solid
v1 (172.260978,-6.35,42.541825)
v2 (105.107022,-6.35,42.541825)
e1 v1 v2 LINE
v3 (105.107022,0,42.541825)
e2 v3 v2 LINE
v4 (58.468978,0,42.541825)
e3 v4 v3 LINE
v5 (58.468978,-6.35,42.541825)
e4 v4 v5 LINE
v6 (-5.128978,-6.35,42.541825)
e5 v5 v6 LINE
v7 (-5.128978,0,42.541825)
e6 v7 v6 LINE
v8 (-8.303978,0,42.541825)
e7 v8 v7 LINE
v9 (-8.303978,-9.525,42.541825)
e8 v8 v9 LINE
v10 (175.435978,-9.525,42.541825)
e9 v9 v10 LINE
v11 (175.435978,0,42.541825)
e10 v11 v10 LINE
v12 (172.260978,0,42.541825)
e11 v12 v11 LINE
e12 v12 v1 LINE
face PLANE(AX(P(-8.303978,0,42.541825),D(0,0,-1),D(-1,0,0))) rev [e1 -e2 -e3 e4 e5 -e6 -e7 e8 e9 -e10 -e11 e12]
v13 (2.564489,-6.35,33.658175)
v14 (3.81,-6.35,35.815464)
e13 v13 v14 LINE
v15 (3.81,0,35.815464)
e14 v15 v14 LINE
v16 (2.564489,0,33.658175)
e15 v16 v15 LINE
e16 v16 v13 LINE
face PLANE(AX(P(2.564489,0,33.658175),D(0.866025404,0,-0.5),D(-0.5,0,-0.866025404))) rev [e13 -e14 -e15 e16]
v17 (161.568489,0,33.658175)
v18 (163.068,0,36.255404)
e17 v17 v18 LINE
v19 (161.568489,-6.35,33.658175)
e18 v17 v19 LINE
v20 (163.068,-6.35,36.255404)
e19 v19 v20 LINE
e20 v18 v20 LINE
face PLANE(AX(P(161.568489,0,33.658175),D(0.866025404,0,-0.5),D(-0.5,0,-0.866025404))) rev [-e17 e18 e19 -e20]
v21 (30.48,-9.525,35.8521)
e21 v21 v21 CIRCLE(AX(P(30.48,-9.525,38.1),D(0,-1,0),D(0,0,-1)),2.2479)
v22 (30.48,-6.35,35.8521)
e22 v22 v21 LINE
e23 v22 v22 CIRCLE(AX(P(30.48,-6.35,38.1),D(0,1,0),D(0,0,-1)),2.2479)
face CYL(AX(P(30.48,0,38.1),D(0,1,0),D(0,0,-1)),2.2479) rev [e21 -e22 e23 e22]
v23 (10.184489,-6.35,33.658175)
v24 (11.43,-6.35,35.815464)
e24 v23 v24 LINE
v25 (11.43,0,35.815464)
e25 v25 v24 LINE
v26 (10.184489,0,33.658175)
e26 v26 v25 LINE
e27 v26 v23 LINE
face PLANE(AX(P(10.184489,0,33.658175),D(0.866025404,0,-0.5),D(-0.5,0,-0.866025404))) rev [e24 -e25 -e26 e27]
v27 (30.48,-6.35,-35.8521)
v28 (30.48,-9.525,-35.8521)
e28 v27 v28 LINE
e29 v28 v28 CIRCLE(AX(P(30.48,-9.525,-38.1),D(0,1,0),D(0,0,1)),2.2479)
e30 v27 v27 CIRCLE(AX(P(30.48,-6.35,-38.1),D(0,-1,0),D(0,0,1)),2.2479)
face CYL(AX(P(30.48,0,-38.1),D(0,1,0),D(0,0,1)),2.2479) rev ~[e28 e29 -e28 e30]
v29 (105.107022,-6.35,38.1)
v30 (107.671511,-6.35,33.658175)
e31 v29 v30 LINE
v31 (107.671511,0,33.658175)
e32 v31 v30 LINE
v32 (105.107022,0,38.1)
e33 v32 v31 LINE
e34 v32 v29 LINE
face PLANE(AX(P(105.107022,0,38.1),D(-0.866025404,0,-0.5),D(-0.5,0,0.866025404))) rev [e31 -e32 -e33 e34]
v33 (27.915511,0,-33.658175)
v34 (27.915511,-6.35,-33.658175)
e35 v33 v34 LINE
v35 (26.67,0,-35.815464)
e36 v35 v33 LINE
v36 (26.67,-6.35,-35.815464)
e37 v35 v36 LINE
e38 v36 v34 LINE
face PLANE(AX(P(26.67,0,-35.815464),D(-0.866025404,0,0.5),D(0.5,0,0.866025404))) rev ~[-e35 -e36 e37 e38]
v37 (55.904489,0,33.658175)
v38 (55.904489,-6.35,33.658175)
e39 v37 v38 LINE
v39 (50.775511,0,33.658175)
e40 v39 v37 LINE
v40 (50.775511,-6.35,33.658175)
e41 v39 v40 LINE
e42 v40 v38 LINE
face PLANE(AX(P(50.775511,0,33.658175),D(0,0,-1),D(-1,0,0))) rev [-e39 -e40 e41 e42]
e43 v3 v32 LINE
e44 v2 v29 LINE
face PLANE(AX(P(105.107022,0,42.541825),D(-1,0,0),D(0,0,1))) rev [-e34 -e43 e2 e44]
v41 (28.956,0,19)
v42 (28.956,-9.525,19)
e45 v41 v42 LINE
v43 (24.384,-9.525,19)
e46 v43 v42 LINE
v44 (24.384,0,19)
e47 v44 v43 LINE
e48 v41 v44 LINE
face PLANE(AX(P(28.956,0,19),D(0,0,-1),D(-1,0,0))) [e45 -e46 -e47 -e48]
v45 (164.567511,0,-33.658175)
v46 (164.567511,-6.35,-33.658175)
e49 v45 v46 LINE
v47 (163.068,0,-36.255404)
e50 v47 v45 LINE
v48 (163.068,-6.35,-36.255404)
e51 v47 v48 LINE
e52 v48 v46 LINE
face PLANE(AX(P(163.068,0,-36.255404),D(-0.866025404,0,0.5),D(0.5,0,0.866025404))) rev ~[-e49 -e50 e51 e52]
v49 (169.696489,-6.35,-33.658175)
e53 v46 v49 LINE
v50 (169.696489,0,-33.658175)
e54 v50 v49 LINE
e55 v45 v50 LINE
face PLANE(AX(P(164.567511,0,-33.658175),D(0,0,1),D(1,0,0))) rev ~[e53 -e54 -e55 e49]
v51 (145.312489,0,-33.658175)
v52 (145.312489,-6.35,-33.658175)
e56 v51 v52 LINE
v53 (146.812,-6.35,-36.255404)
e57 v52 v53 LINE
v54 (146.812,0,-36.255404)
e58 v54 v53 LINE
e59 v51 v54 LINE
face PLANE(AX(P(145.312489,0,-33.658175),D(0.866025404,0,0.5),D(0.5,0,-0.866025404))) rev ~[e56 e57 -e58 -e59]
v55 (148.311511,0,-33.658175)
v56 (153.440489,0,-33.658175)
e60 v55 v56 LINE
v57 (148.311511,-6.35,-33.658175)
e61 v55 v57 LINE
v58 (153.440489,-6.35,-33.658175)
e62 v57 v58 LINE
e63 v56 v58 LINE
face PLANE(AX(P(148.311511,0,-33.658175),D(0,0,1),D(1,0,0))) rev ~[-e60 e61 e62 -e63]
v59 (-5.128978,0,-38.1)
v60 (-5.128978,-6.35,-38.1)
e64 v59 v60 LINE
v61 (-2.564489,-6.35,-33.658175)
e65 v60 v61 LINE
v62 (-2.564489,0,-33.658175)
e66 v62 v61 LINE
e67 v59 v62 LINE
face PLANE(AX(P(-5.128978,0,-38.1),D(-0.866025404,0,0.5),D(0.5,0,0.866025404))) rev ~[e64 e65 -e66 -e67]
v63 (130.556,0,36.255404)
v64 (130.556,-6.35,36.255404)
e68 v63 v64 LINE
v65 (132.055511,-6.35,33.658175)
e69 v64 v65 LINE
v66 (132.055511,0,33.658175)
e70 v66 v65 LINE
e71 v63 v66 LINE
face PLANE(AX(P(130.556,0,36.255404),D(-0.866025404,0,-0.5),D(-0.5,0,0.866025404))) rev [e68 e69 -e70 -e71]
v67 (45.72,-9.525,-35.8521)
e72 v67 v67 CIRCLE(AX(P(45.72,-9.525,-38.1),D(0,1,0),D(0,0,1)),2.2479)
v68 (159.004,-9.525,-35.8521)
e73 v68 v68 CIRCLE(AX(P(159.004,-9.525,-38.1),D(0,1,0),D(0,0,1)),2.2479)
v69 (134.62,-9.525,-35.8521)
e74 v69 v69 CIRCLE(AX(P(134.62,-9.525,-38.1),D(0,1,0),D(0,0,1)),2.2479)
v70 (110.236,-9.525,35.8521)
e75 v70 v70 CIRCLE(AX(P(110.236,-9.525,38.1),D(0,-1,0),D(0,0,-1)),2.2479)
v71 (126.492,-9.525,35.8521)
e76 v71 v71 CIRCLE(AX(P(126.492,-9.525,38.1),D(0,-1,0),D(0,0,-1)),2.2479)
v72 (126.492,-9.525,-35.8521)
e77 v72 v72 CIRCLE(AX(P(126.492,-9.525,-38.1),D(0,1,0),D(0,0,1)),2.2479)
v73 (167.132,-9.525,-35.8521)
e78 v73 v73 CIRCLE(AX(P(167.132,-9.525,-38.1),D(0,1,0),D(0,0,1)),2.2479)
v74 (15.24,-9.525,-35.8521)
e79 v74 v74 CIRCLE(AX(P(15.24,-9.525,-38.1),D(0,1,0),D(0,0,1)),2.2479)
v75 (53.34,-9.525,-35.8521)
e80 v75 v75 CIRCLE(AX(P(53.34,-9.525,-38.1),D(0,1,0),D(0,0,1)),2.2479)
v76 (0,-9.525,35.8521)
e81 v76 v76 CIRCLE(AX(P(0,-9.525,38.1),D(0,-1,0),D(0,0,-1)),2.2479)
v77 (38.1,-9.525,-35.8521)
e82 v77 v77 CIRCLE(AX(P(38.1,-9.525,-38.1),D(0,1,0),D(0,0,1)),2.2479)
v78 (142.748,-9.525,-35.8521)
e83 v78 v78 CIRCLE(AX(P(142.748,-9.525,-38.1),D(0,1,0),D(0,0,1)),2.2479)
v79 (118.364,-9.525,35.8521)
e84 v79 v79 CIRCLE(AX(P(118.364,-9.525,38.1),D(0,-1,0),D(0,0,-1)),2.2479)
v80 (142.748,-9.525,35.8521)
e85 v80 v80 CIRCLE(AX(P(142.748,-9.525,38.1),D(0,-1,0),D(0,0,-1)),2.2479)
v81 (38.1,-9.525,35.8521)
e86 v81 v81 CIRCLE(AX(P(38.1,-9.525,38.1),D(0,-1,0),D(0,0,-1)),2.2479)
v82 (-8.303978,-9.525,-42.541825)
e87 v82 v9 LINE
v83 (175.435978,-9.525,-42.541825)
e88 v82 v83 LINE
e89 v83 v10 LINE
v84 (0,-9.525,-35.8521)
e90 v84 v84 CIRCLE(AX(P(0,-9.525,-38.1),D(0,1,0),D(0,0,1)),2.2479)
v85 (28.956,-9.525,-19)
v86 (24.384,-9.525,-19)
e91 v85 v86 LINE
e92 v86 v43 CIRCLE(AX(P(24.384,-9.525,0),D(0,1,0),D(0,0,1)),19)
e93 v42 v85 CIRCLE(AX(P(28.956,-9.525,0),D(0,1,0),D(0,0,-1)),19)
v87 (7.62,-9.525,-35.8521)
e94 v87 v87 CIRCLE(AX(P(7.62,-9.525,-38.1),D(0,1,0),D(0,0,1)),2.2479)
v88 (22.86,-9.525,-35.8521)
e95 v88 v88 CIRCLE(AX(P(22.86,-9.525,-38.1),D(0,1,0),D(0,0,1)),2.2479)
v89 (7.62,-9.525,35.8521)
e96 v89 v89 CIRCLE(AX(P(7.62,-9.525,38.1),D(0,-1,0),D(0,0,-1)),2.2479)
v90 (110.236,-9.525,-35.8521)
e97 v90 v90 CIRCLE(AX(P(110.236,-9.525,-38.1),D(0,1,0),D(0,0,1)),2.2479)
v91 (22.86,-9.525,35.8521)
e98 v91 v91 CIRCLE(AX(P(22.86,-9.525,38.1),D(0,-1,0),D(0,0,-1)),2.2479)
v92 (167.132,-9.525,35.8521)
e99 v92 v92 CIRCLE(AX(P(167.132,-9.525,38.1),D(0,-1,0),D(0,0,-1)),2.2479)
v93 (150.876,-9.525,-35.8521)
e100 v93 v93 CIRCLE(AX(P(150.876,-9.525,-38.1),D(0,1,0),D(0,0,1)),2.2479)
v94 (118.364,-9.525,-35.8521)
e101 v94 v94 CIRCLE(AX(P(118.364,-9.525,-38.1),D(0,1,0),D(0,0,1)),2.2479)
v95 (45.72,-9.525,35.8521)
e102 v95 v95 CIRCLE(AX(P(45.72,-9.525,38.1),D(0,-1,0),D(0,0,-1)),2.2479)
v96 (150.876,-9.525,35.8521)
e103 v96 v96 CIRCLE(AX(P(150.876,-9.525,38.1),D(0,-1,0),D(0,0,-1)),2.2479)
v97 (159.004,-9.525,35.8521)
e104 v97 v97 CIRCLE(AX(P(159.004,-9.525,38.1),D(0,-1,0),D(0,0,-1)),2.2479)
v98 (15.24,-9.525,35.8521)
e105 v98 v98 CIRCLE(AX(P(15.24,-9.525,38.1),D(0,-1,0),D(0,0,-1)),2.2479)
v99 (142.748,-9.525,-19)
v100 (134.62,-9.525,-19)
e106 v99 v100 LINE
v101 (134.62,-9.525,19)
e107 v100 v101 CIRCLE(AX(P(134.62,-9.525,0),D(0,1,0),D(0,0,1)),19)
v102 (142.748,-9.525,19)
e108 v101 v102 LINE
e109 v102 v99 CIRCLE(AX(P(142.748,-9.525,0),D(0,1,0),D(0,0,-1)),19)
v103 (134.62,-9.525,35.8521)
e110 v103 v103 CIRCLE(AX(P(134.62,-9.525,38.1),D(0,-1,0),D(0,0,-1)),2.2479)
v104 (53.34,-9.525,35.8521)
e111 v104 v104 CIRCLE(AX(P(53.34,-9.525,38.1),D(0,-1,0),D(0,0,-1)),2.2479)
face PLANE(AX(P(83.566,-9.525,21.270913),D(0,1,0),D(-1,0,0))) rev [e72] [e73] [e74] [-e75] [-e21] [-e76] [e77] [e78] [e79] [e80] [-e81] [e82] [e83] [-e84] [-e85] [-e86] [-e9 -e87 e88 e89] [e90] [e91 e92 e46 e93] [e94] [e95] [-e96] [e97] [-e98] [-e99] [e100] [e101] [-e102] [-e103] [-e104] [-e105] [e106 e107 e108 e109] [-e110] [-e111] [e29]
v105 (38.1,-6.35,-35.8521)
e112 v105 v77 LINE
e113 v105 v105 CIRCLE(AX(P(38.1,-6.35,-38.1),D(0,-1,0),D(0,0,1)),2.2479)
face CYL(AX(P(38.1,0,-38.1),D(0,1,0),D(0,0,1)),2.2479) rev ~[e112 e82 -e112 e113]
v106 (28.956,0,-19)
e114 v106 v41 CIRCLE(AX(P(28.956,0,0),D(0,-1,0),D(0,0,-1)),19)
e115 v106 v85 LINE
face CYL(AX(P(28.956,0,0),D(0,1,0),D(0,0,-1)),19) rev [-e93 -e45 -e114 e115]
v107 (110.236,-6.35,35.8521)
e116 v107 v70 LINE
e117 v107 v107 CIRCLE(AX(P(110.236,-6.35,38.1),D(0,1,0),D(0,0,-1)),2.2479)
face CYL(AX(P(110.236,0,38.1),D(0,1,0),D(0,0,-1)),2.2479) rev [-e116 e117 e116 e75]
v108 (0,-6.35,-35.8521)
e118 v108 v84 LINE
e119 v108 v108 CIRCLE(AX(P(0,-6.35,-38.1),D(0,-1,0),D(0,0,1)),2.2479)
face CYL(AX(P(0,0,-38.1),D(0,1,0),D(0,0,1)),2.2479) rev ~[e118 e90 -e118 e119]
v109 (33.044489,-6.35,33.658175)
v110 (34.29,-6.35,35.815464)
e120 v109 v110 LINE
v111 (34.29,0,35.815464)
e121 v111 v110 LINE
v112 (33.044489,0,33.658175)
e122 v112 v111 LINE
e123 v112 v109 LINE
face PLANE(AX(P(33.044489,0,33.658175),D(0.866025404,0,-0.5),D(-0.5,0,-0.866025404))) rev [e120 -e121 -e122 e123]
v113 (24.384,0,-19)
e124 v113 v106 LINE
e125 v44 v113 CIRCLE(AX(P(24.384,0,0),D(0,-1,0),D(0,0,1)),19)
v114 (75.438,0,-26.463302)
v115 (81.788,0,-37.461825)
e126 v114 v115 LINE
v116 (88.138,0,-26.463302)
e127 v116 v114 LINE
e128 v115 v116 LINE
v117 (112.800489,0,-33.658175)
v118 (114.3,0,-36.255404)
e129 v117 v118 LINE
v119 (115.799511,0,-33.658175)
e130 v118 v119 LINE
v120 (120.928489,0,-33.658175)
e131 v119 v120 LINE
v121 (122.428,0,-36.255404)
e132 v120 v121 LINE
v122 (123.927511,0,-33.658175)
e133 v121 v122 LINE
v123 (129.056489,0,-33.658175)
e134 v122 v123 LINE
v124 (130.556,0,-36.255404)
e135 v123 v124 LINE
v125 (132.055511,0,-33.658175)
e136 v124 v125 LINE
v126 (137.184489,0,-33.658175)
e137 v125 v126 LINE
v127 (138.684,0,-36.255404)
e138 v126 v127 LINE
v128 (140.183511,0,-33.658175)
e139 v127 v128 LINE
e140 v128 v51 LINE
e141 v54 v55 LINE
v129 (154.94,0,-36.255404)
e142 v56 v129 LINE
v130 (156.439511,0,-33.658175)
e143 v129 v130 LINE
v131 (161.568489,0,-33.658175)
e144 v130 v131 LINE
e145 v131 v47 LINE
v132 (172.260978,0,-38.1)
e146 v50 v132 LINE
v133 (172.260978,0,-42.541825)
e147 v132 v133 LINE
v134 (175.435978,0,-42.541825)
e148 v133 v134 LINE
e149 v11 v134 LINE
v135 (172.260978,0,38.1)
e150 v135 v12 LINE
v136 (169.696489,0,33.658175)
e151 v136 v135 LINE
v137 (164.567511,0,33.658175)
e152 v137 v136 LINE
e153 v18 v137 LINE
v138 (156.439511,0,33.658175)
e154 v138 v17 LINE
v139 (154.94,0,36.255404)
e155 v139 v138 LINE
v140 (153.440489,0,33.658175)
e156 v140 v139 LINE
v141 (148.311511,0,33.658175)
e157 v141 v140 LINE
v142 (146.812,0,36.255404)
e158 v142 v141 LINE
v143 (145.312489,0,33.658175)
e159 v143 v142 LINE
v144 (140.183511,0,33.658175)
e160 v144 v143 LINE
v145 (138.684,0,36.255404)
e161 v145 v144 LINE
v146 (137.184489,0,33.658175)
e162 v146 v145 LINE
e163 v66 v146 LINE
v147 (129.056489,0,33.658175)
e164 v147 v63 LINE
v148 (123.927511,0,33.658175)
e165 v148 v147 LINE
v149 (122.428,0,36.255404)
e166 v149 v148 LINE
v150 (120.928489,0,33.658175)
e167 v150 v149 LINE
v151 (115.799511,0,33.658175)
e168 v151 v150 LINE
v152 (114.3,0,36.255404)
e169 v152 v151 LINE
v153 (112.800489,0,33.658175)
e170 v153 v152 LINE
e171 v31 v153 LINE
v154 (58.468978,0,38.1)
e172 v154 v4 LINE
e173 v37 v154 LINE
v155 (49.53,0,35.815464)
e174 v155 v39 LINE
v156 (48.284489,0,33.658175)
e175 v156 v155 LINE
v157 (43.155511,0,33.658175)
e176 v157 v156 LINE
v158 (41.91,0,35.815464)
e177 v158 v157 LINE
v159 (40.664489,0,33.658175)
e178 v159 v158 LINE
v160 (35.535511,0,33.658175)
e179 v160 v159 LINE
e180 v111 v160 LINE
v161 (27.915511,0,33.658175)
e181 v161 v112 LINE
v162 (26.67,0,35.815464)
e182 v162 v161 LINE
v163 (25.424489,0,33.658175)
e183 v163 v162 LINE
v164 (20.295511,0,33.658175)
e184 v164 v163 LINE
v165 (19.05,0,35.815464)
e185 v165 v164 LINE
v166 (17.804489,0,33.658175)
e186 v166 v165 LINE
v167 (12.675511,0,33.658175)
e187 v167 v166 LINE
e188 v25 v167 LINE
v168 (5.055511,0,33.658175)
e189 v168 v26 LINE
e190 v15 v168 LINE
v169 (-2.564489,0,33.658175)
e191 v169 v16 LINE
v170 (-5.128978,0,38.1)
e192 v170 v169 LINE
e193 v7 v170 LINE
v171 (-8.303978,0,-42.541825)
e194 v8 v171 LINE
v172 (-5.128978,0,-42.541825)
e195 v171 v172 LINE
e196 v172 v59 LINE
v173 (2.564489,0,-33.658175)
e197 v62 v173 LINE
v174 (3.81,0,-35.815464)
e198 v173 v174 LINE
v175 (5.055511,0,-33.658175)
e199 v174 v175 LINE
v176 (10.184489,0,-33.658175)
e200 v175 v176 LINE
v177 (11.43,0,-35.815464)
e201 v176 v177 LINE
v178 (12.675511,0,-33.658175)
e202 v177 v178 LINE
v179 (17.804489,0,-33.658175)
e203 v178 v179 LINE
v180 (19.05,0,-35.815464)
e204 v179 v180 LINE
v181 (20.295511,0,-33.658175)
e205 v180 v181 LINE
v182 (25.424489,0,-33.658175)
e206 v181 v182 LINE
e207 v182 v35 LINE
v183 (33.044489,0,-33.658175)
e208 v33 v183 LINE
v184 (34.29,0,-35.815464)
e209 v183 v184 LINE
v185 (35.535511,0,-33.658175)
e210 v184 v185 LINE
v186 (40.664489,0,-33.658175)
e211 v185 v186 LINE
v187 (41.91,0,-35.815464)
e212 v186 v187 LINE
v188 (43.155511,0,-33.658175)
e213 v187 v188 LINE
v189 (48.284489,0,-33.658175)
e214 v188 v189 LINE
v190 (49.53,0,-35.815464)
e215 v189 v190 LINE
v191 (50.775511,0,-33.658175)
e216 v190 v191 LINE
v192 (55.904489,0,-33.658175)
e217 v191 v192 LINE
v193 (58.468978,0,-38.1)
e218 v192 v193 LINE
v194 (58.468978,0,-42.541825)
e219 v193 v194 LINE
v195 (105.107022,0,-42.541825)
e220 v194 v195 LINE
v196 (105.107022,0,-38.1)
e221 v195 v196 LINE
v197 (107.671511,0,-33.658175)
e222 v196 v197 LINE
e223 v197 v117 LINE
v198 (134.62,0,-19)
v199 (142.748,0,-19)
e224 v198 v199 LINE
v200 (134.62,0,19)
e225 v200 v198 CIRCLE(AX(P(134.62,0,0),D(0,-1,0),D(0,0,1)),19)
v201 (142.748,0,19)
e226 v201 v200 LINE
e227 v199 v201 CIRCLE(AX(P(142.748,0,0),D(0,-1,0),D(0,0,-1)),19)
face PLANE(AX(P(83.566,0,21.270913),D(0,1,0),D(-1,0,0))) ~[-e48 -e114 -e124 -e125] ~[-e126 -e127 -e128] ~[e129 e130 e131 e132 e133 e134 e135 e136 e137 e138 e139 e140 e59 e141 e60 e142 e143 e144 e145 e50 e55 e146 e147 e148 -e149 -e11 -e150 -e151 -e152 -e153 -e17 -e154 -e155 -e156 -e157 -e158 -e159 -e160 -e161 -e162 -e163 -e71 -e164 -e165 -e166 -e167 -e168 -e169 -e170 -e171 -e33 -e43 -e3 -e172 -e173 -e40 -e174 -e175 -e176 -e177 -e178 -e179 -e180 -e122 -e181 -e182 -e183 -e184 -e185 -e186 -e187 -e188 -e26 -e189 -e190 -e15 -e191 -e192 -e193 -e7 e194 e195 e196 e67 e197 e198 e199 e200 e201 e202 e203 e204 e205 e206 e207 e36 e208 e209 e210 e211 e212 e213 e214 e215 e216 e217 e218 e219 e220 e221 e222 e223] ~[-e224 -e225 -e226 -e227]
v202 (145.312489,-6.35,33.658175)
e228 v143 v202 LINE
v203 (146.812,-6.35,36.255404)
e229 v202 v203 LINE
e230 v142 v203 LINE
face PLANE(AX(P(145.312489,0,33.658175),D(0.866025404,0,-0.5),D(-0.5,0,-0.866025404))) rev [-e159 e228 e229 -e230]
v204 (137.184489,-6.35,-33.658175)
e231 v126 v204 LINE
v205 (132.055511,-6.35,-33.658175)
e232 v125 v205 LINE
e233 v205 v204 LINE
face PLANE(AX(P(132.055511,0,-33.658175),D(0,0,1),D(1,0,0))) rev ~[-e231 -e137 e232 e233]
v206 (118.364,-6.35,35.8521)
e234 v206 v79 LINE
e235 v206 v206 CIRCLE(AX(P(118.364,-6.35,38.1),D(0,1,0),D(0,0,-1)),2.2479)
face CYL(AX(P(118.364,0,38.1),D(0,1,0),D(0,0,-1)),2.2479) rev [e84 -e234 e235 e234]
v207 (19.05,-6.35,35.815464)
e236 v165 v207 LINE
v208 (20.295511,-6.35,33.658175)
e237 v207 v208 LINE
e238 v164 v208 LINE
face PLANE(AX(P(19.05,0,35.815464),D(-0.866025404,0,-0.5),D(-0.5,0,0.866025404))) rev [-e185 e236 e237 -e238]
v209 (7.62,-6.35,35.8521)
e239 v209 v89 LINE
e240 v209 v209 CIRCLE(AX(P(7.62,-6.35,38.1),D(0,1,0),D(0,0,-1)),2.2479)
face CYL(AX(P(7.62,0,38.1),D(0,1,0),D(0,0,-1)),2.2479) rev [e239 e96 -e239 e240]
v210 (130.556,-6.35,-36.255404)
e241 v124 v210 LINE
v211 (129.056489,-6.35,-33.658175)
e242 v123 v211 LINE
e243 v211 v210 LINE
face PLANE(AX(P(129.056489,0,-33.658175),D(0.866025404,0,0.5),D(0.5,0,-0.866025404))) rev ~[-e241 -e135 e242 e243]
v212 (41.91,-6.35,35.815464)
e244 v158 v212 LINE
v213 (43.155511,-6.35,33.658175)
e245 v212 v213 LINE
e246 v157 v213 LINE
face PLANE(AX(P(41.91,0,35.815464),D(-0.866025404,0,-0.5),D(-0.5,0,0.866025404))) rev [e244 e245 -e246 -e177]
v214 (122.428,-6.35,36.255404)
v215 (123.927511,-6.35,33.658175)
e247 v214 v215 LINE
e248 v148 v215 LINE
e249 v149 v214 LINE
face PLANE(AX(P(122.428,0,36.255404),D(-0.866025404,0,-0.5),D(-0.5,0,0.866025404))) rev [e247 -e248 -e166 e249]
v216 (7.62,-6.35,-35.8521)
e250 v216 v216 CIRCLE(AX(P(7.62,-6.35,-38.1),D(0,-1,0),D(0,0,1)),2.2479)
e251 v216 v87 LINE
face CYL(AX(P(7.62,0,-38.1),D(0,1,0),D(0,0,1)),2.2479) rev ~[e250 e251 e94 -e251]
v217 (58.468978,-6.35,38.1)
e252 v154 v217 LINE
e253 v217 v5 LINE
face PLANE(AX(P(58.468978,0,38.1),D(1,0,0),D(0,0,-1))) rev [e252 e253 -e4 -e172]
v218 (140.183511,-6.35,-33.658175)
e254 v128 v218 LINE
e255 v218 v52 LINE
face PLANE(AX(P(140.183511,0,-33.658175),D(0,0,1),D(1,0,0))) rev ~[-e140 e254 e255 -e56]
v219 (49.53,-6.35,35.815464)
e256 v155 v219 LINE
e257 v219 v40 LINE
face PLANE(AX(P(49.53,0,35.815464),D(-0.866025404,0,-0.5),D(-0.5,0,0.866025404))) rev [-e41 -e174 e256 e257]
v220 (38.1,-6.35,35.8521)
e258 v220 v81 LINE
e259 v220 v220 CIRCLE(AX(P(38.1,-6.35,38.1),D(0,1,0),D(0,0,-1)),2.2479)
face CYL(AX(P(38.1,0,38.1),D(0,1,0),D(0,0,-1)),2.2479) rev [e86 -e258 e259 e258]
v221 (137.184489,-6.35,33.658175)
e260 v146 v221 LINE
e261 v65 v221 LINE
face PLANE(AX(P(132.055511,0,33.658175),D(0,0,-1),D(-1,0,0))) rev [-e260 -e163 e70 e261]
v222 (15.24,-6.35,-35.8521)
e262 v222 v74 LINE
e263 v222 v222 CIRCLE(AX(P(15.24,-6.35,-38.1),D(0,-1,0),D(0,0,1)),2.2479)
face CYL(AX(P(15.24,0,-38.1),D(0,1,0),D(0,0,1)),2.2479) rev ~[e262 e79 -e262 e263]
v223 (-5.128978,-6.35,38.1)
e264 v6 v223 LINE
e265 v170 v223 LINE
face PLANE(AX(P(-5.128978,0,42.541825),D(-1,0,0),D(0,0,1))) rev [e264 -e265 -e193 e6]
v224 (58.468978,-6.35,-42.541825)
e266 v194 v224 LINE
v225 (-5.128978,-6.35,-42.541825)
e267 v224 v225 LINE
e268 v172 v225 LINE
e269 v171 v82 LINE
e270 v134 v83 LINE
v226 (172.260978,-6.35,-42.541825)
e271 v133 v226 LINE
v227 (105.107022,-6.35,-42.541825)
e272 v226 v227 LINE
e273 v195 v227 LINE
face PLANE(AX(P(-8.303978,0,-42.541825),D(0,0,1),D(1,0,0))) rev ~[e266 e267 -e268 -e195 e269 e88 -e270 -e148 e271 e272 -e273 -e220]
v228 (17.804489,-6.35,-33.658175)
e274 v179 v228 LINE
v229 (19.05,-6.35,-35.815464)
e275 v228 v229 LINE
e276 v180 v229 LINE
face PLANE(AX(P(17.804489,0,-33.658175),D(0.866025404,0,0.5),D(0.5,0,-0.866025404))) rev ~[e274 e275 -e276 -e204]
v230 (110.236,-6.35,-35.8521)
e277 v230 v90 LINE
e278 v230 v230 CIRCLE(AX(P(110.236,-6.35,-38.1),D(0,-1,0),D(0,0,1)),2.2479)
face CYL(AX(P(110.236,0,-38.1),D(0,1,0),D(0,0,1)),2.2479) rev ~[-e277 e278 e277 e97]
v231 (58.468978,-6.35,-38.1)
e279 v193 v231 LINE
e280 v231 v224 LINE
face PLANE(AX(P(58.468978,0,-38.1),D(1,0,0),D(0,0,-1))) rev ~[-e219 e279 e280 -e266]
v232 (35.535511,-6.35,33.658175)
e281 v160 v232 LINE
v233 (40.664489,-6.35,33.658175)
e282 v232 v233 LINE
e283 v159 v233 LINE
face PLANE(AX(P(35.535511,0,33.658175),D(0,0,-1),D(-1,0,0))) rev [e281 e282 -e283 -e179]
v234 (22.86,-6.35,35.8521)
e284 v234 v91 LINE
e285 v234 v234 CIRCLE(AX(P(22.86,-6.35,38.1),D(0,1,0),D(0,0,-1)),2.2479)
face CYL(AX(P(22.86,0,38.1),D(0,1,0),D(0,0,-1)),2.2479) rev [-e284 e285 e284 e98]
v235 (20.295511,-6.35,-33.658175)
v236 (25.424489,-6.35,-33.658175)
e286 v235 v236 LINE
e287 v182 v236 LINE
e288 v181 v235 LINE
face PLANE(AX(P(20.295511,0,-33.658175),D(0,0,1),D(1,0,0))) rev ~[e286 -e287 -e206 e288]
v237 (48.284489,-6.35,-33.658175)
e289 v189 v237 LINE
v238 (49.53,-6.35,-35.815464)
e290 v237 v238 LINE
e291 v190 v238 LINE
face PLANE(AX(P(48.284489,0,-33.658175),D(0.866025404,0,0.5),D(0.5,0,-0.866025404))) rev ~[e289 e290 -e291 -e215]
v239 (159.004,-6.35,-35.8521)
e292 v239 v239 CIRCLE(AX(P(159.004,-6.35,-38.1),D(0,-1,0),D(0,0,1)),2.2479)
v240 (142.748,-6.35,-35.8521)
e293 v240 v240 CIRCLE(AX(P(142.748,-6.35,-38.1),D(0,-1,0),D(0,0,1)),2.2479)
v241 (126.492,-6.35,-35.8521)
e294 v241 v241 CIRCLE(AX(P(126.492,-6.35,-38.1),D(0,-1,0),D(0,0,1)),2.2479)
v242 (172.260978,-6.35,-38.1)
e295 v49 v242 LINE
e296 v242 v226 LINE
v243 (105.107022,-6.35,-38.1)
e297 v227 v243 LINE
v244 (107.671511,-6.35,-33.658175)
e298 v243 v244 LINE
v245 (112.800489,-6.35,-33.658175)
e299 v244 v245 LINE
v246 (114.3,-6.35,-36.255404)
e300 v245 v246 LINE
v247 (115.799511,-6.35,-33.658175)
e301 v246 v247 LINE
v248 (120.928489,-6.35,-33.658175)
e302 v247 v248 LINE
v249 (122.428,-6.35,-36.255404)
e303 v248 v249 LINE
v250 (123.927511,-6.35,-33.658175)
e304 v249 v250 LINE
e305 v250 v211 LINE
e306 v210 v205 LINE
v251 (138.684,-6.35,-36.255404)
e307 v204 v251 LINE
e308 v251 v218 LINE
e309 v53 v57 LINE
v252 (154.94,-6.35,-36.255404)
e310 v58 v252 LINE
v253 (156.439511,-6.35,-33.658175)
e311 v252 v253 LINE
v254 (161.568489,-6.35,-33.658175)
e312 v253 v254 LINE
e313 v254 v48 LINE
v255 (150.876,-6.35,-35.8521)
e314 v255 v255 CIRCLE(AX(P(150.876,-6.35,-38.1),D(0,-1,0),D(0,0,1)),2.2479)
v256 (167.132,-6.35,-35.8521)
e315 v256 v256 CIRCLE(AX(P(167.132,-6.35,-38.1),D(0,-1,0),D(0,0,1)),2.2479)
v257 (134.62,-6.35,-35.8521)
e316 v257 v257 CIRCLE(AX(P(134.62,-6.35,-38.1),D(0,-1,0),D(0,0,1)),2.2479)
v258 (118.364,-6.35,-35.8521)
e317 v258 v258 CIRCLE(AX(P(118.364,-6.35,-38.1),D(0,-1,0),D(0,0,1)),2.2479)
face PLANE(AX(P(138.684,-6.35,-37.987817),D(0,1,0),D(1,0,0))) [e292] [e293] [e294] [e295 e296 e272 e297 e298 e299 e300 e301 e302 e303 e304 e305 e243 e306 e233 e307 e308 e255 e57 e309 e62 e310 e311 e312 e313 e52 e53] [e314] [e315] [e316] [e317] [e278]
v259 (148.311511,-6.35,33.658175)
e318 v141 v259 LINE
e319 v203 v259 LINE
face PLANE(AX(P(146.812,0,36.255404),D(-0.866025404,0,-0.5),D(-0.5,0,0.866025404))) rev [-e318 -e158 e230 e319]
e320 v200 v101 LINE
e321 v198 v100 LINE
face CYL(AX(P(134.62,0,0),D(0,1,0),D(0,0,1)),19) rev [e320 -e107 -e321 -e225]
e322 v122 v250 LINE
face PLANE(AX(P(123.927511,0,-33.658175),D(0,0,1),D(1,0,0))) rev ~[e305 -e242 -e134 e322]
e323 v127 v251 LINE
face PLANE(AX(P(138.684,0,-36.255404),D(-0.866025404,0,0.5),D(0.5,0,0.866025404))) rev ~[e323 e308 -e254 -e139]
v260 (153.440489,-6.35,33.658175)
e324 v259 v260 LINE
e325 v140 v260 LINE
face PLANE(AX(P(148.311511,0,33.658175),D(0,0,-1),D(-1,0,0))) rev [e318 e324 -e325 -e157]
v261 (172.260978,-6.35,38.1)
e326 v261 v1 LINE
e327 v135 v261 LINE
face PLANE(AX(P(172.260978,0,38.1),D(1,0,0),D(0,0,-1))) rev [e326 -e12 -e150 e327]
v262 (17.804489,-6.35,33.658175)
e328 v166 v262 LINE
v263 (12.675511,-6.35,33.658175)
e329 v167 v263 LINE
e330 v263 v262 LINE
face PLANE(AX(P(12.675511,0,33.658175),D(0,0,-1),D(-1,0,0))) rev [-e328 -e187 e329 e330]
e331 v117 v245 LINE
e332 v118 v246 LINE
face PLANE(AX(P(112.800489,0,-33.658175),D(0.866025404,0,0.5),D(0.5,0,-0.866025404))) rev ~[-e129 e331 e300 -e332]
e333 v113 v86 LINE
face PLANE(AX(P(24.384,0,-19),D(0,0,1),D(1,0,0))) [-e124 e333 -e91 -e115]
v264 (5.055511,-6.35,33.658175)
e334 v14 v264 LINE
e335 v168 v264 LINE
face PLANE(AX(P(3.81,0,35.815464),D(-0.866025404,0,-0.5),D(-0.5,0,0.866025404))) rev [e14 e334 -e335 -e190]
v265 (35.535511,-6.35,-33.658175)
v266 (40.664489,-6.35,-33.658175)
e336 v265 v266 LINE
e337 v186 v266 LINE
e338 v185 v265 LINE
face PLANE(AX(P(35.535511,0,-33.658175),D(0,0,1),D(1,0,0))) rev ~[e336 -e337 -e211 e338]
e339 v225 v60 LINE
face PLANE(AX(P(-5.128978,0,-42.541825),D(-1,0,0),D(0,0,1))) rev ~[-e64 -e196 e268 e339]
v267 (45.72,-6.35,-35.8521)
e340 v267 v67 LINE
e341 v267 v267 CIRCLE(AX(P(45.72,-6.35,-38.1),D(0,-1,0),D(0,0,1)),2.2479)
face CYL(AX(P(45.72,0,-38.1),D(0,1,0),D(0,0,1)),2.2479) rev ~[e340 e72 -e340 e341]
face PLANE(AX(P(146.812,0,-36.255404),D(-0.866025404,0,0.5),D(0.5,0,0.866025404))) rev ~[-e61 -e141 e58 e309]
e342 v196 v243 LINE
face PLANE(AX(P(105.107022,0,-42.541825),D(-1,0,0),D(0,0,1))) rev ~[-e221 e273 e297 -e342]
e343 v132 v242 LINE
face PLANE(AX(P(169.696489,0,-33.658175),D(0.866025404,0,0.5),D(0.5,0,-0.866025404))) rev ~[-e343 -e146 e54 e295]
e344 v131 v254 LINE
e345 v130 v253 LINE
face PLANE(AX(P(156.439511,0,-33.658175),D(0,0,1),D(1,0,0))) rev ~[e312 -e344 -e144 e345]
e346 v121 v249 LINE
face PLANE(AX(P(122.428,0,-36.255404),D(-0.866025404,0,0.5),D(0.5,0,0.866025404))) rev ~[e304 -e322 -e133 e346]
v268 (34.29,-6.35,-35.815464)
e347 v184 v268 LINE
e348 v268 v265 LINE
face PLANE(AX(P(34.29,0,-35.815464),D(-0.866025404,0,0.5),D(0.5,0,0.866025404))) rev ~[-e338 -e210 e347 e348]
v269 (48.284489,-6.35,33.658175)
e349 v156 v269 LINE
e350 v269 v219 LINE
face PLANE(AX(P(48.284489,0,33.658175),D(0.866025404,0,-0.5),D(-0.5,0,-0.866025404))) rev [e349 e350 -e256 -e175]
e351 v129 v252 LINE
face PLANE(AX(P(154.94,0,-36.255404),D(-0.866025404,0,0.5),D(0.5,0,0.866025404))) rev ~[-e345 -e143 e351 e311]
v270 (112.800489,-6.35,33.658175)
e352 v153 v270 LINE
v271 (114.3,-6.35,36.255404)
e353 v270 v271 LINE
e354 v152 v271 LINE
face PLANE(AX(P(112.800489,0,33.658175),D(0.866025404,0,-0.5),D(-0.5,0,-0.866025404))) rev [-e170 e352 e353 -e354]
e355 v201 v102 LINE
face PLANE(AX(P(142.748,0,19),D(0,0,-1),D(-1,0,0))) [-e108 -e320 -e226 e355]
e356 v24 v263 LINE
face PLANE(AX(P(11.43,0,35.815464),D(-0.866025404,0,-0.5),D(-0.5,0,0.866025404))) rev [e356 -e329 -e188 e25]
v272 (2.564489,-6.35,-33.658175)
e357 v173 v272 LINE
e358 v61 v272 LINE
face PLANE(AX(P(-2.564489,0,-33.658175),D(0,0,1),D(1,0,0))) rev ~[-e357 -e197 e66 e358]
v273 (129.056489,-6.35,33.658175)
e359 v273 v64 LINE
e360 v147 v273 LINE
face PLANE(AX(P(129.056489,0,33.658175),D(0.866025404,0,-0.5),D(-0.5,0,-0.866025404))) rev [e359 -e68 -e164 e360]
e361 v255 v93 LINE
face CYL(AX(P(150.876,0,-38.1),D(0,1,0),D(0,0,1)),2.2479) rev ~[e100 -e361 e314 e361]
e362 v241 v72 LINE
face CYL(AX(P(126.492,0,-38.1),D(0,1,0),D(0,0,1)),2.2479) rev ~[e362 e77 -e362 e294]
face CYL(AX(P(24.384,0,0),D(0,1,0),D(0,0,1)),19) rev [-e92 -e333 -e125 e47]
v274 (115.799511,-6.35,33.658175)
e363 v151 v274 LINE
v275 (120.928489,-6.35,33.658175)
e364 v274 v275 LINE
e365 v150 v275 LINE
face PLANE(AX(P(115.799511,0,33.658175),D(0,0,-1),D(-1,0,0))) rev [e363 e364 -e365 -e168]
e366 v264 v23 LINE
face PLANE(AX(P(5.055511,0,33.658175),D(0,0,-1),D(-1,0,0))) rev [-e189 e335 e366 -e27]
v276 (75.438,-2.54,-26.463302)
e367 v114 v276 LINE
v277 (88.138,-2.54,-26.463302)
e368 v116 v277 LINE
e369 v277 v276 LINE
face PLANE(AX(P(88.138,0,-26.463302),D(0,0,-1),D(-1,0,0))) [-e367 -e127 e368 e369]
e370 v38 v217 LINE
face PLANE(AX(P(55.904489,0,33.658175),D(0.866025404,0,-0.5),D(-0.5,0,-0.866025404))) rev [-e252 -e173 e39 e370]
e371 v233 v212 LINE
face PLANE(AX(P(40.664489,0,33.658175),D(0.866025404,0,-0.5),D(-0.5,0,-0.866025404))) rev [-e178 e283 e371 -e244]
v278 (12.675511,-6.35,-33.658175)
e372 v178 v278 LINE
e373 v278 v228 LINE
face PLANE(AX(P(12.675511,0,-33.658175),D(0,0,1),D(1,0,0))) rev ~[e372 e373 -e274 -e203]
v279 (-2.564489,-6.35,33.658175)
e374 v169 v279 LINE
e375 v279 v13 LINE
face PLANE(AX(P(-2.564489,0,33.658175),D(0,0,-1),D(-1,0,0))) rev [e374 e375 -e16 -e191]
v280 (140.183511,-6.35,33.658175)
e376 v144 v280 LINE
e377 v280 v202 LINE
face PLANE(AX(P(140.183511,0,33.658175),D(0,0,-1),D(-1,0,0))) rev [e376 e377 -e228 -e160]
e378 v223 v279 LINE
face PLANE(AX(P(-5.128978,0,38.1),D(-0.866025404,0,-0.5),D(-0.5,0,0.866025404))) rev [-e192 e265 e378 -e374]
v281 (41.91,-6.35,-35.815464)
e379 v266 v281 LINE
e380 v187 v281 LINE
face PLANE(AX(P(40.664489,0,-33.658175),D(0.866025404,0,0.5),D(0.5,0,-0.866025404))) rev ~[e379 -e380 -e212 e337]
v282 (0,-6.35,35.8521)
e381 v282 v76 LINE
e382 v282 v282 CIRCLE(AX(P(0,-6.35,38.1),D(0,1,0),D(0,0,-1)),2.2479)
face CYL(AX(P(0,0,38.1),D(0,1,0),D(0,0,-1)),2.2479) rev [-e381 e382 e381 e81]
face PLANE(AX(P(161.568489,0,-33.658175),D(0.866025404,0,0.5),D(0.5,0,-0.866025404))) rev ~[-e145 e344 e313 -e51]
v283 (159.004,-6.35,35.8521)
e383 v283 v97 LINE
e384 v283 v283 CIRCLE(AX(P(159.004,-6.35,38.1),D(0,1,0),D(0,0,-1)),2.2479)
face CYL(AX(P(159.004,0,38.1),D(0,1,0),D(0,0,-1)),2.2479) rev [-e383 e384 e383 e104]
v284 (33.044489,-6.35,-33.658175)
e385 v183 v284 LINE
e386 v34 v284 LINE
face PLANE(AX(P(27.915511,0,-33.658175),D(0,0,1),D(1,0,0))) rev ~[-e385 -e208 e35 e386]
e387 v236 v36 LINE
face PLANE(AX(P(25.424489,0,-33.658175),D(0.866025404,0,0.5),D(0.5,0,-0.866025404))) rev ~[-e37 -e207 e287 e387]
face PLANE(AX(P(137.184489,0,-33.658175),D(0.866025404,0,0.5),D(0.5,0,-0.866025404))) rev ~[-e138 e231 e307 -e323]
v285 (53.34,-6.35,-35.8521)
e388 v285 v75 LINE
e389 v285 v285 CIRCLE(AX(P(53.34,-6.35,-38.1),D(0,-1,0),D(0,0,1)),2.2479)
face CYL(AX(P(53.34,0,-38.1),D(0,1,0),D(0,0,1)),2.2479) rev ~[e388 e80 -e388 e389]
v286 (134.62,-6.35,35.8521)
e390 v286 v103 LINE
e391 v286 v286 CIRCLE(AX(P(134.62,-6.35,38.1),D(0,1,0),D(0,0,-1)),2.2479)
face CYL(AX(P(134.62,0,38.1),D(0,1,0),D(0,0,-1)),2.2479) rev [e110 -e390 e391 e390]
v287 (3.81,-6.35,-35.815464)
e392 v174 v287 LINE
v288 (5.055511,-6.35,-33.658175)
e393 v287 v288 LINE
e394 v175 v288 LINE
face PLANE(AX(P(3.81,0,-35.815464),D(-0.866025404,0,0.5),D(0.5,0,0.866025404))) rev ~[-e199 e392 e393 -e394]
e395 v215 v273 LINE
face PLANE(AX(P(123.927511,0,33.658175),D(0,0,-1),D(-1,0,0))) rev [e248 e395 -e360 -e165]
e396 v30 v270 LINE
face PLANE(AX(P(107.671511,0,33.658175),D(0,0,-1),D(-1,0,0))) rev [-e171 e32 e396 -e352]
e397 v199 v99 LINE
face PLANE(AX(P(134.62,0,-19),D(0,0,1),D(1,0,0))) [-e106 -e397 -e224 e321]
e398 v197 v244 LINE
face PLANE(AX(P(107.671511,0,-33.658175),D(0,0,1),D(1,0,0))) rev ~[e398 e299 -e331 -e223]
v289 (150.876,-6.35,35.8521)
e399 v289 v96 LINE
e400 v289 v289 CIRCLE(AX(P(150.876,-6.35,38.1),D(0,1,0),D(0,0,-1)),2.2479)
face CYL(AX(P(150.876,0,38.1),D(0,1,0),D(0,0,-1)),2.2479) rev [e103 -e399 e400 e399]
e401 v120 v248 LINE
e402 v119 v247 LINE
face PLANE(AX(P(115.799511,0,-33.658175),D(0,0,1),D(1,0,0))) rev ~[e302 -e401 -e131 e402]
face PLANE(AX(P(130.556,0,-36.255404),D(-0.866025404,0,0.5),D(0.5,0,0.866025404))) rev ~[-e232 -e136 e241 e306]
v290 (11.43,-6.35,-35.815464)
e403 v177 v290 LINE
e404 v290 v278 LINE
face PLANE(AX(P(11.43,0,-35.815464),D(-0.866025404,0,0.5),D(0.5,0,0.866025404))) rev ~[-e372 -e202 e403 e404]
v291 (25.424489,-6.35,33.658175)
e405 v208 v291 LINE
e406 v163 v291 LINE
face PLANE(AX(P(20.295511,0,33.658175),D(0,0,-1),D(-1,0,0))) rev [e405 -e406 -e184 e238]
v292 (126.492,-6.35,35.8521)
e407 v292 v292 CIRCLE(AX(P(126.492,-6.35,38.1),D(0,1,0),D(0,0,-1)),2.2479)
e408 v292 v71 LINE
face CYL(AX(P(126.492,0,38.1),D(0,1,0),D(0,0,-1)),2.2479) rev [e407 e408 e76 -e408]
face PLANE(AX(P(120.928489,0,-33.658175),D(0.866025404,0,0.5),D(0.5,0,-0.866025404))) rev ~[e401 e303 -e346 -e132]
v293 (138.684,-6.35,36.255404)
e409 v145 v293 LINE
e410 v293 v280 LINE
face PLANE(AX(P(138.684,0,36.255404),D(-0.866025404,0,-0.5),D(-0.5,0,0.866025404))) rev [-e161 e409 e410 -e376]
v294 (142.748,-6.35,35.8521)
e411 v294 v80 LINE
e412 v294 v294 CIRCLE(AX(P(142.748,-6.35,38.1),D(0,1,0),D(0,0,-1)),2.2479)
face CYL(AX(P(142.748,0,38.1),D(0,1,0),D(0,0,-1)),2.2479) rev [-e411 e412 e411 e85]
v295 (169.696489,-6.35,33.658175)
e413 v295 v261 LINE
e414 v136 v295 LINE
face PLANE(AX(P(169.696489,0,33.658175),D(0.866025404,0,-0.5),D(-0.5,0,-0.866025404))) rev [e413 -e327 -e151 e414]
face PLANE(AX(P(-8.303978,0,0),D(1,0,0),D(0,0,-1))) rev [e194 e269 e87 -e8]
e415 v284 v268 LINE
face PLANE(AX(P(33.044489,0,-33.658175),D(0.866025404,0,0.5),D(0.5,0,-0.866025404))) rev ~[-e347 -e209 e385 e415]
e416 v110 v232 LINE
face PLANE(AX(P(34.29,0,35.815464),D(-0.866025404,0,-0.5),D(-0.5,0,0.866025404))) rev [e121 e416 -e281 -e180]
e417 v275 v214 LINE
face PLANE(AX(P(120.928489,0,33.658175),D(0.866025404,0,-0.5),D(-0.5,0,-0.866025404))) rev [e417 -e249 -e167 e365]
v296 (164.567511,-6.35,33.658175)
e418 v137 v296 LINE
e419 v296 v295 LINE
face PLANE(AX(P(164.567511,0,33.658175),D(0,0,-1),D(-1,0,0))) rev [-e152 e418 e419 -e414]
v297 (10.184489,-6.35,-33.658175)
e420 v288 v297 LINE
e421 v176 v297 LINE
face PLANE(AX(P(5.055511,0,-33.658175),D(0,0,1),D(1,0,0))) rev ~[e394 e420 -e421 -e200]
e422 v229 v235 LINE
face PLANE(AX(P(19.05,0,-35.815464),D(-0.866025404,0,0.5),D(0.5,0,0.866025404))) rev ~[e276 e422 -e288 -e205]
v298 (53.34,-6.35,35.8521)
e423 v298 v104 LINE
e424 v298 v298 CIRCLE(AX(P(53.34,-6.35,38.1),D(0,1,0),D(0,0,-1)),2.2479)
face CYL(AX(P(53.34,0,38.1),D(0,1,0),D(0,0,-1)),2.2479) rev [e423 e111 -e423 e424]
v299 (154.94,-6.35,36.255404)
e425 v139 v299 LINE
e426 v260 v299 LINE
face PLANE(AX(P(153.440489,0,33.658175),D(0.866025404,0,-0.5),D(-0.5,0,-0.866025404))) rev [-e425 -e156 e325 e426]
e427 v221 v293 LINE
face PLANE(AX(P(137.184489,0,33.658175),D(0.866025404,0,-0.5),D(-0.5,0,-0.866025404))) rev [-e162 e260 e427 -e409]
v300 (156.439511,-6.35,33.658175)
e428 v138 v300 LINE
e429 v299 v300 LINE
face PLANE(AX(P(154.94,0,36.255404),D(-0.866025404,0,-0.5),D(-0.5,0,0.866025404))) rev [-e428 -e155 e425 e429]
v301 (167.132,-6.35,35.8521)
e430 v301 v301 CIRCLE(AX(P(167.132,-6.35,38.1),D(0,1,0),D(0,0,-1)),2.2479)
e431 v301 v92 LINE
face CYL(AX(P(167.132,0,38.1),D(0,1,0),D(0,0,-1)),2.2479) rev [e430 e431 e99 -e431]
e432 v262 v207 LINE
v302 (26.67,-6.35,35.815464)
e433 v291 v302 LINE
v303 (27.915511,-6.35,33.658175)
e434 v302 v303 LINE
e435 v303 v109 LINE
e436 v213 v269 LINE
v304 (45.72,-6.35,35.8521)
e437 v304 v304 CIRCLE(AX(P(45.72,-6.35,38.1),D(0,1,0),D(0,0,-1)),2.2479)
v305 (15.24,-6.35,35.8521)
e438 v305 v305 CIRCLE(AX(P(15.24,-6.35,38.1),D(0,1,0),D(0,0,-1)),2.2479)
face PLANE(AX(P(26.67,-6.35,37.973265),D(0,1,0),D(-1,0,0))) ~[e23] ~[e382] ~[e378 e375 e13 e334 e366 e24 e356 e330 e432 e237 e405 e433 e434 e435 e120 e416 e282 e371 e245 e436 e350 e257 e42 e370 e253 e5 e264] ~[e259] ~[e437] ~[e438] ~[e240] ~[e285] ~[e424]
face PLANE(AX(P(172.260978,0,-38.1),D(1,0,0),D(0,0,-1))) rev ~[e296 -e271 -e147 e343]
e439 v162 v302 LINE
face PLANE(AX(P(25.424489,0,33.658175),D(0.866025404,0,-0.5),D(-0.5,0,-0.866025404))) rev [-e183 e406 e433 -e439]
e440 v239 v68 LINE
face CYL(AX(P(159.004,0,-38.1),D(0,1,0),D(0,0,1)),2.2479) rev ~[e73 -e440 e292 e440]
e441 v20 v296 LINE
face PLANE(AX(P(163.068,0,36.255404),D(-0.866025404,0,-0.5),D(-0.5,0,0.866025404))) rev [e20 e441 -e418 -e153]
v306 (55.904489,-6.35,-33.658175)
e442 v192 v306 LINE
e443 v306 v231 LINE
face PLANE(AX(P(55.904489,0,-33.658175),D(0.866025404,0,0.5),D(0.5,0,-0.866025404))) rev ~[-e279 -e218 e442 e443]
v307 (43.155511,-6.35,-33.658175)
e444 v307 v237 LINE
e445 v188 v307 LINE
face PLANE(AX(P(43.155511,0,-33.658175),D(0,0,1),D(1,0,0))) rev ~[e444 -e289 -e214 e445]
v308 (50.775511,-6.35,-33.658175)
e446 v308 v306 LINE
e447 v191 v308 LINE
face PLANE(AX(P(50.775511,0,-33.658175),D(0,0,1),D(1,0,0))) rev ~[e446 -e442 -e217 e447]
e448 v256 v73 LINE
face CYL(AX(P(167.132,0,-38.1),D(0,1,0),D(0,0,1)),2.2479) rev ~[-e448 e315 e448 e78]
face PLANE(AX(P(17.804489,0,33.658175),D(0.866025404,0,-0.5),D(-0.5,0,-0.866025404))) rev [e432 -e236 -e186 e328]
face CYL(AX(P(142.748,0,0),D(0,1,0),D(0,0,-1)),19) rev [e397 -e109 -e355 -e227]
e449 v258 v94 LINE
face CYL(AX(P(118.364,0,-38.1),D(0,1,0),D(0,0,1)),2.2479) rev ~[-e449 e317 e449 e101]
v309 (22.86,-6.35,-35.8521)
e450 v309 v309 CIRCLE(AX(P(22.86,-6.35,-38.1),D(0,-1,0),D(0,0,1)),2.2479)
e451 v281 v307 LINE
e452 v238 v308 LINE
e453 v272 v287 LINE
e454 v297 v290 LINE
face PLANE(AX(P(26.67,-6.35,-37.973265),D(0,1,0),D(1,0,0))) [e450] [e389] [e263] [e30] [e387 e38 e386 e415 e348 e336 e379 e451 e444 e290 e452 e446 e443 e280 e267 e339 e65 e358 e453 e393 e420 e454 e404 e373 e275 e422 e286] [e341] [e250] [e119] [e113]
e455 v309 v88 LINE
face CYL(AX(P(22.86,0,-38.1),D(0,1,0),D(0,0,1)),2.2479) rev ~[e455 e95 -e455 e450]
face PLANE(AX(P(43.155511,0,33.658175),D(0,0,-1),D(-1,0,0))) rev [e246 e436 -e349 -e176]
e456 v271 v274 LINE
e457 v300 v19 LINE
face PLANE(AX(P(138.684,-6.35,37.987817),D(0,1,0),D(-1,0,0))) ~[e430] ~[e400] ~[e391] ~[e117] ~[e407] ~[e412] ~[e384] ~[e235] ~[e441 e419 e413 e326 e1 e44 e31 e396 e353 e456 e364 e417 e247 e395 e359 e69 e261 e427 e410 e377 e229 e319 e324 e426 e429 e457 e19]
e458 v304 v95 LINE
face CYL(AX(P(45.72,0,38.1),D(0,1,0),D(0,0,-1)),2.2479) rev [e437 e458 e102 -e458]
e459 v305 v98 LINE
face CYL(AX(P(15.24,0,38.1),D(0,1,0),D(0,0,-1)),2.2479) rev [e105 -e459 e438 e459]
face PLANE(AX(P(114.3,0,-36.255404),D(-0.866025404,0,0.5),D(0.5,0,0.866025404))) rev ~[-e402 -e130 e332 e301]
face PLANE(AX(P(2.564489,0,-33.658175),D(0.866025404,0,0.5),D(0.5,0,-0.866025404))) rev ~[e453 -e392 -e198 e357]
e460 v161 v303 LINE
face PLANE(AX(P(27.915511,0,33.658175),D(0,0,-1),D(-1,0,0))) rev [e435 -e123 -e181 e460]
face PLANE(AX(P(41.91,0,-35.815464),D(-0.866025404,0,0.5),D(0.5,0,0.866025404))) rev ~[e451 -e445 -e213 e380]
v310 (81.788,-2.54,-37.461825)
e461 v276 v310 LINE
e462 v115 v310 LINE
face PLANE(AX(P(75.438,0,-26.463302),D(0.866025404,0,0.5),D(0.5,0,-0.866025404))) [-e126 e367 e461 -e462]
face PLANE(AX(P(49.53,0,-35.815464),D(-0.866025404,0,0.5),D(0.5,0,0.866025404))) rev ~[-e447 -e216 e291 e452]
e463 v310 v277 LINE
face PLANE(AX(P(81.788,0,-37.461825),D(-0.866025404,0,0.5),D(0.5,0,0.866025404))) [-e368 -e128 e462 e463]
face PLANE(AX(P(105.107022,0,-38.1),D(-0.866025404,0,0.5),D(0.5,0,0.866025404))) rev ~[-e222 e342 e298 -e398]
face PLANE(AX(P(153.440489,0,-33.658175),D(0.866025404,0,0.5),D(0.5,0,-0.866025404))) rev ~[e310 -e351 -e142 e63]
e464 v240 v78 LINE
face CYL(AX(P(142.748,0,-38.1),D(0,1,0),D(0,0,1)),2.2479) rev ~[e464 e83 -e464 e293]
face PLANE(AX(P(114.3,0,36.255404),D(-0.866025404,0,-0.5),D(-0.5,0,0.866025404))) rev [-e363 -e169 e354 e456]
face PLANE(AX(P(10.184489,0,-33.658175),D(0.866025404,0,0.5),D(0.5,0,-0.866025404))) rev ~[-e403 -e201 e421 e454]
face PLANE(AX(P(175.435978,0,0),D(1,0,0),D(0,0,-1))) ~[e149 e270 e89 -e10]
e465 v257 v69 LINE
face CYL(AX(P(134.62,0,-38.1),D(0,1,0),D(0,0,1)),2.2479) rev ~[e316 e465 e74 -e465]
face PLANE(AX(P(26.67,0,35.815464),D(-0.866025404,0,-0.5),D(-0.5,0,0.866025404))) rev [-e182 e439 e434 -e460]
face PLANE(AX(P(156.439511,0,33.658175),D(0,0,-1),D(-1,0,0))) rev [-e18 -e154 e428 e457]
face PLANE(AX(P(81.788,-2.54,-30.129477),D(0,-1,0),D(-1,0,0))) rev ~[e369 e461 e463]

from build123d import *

# Parameters (mm, degrees)
SKETCH1_W           = 183.739955438
SKETCH1_H           = 42.541825
SKETCH1_R           = 2.2479
BOSS_EXTRUDE1_DEPTH = 9.525
SKETCH1_5_R         = 2.2479
CUT_EXTRUDE1_DEPTH  = 6.35
CUT_EXTRUDE2_DEPTH  = 181.771443479
CUT_EXTRUDE3_DEPTH  = 2.54


with BuildPart() as part:
    # Sketch1 → Boss-Extrude1 (new body)
    with BuildSketch(Plane(origin=(0, 0, 0), x_dir=(1, 0, 0), z_dir=(0, 1, 0))):
        with Locations((83.566, 21.2709125)):
            Rectangle(SKETCH1_W, SKETCH1_H)
        with Locations(Location((45.72, 38.1, 0), (0, 0, 270))):
            Circle(SKETCH1_R, mode=Mode.SUBTRACT)
        with Locations(Location((38.1, 38.1, 0), (0, 0, 270))):
            Circle(SKETCH1_R, mode=Mode.SUBTRACT)
        with Locations(Location((30.48, 38.1, 0), (0, 0, 270))):
            Circle(SKETCH1_R, mode=Mode.SUBTRACT)
        with Locations(Location((22.86, 38.1, 0), (0, 0, 270))):
            Circle(SKETCH1_R, mode=Mode.SUBTRACT)
        with Locations(Location((15.24, 38.1, 0), (0, 0, 270))):
            Circle(SKETCH1_R, mode=Mode.SUBTRACT)
        with Locations(Location((7.62, 38.1, 0), (0, 0, 270))):
            Circle(SKETCH1_R, mode=Mode.SUBTRACT)
        with Locations(Location((0, 38.1, 0), (0, 0, 270))):
            Circle(SKETCH1_R, mode=Mode.SUBTRACT)
        with Locations(Location((53.34, 38.1, 0), (0, 0, 270))):
            Circle(SKETCH1_R, mode=Mode.SUBTRACT)
        with Locations(Location((142.748, 38.1, 0), (0, 0, 270))):
            Circle(SKETCH1_R, mode=Mode.SUBTRACT)
        with Locations(Location((134.62, 38.1, 0), (0, 0, 270))):
            Circle(SKETCH1_R, mode=Mode.SUBTRACT)
        with Locations(Location((126.492, 38.1, 0), (0, 0, 270))):
            Circle(SKETCH1_R, mode=Mode.SUBTRACT)
        with Locations(Location((118.364, 38.1, 0), (0, 0, 270))):
            Circle(SKETCH1_R, mode=Mode.SUBTRACT)
        with Locations(Location((110.236, 38.1, 0), (0, 0, 270))):
            Circle(SKETCH1_R, mode=Mode.SUBTRACT)
        with Locations(Location((150.876, 38.1, 0), (0, 0, 270))):
            Circle(SKETCH1_R, mode=Mode.SUBTRACT)
        with Locations(Location((159.004, 38.1, 0), (0, 0, 270))):
            Circle(SKETCH1_R, mode=Mode.SUBTRACT)
        with Locations(Location((167.132, 38.1, 0), (0, 0, 270))):
            Circle(SKETCH1_R, mode=Mode.SUBTRACT)
    extrude(amount=-BOSS_EXTRUDE1_DEPTH)

    # Sketch1<5> → Cut-Extrude1 (cut)
    # profile 1 of 2: a face of its own
    with BuildSketch(Plane(origin=(0, 0, 0), x_dir=(1, 0, 0), z_dir=(0, 1, 0))):
        Polygon((-5.128977719, 38.1), (-2.564488859, 33.658175), (2.564488859, 33.658175), (3.81, 35.815463577), (5.055511141, 33.658175), (10.184488859, 33.658175), (11.43, 35.815463577), (12.675511141, 33.658175), (17.804488859, 33.658175), (19.05, 35.815463577), (20.295511141, 33.658175), (25.424488859, 33.658175), (26.67, 35.815463577), (27.915511141, 33.658175), (33.044488859, 33.658175), (34.29, 35.815463577), (35.535511141, 33.658175), (40.664488859, 33.658175), (41.91, 35.815463577), (43.155511141, 33.658175), (48.284488859, 33.658175), (49.53, 35.815463577), (50.775511141, 33.658175), (55.904488859, 33.658175), (58.468977719, 38.1), (58.468977719, 42.541825), (-5.128977719, 42.541825), align=None)
        with Locations((0, 38.1)):
            Circle(SKETCH1_5_R, mode=Mode.SUBTRACT)
        with Locations((7.62, 38.1)):
            Circle(SKETCH1_5_R, mode=Mode.SUBTRACT)
        with Locations((15.24, 38.1)):
            Circle(SKETCH1_5_R, mode=Mode.SUBTRACT)
        with Locations((22.86, 38.1)):
            Circle(SKETCH1_5_R, mode=Mode.SUBTRACT)
        with Locations((30.48, 38.1)):
            Circle(SKETCH1_5_R, mode=Mode.SUBTRACT)
        with Locations((38.1, 38.1)):
            Circle(SKETCH1_5_R, mode=Mode.SUBTRACT)
        with Locations((45.72, 38.1)):
            Circle(SKETCH1_5_R, mode=Mode.SUBTRACT)
        with Locations((53.34, 38.1)):
            Circle(SKETCH1_5_R, mode=Mode.SUBTRACT)
    # profile 2 of 2: a face of its own
    with BuildSketch(Plane(origin=(0, 0, 0), x_dir=(1, 0, 0), z_dir=(0, 1, 0))):
        Polygon((164.567511141, 33.658175), (169.696488859, 33.658175), (172.260977719, 38.1), (172.260977719, 42.541825), (105.107022281, 42.541825), (105.107022281, 38.1), (107.671511141, 33.658175), (112.800488859, 33.658175), (114.3, 36.255404482), (115.799511141, 33.658175), (120.928488859, 33.658175), (122.428, 36.255404482), (123.927511141, 33.658175), (129.056488859, 33.658175), (130.556, 36.255404482), (132.055511141, 33.658175), (137.184488859, 33.658175), (138.684, 36.255404482), (140.183511141, 33.658175), (145.312488859, 33.658175), (146.812, 36.255404482), (148.311511141, 33.658175), (153.440488859, 33.658175), (154.94, 36.255404482), (156.439511141, 33.658175), (161.568488859, 33.658175), (163.068, 36.255404482), align=None)
        with Locations((110.236, 38.1)):
            Circle(SKETCH1_5_R, mode=Mode.SUBTRACT)
        with Locations((118.364, 38.1)):
            Circle(SKETCH1_5_R, mode=Mode.SUBTRACT)
        with Locations((126.492, 38.1)):
            Circle(SKETCH1_5_R, mode=Mode.SUBTRACT)
        with Locations((134.62, 38.1)):
            Circle(SKETCH1_5_R, mode=Mode.SUBTRACT)
        with Locations((142.748, 38.1)):
            Circle(SKETCH1_5_R, mode=Mode.SUBTRACT)
        with Locations((150.876, 38.1)):
            Circle(SKETCH1_5_R, mode=Mode.SUBTRACT)
        with Locations((159.004, 38.1)):
            Circle(SKETCH1_5_R, mode=Mode.SUBTRACT)
        with Locations((167.132, 38.1)):
            Circle(SKETCH1_5_R, mode=Mode.SUBTRACT)
    extrude(amount=-CUT_EXTRUDE1_DEPTH, mode=Mode.SUBTRACT)

    # Mirror1: part across plane


with BuildPart() as part_1:
    add(part.part)
    add(part.part.mirror(Plane.XY))

    # Sketch2 → Cut-Extrude2 (cut, through all)
    with BuildSketch(Plane(origin=(0, 0, 0), x_dir=(1, 0, 0), z_dir=(0, 1, 0))):
        with BuildLine():
            Line((142.748, -19), (134.62, -19))
            ThreePointArc((134.62, -19), (115.62, 0), (134.62, 19))
            Line((134.62, 19), (142.748, 19))
            ThreePointArc((142.748, 19), (161.748, 0), (142.748, -19))
        make_face()
        with BuildLine():
            Line((28.956, -19), (24.384, -19))
            ThreePointArc((24.384, -19), (5.384, 0), (24.384, 19))
            Line((24.384, 19), (28.956, 19))
            ThreePointArc((28.956, 19), (47.956, 0), (28.956, -19))
        make_face()
    extrude(amount=-CUT_EXTRUDE2_DEPTH, mode=Mode.SUBTRACT)

    # Sketch4 → Cut-Extrude3 (cut)
    with BuildSketch(Plane(origin=(0, 0, 0), x_dir=(1, 0, 0), z_dir=(0, 1, 0))):
        Polygon((75.438, 26.463302372), (81.788, 37.461825), (88.138, 26.463302372), align=None)
    extrude(amount=-CUT_EXTRUDE3_DEPTH, mode=Mode.SUBTRACT)


solid = part_1.part
